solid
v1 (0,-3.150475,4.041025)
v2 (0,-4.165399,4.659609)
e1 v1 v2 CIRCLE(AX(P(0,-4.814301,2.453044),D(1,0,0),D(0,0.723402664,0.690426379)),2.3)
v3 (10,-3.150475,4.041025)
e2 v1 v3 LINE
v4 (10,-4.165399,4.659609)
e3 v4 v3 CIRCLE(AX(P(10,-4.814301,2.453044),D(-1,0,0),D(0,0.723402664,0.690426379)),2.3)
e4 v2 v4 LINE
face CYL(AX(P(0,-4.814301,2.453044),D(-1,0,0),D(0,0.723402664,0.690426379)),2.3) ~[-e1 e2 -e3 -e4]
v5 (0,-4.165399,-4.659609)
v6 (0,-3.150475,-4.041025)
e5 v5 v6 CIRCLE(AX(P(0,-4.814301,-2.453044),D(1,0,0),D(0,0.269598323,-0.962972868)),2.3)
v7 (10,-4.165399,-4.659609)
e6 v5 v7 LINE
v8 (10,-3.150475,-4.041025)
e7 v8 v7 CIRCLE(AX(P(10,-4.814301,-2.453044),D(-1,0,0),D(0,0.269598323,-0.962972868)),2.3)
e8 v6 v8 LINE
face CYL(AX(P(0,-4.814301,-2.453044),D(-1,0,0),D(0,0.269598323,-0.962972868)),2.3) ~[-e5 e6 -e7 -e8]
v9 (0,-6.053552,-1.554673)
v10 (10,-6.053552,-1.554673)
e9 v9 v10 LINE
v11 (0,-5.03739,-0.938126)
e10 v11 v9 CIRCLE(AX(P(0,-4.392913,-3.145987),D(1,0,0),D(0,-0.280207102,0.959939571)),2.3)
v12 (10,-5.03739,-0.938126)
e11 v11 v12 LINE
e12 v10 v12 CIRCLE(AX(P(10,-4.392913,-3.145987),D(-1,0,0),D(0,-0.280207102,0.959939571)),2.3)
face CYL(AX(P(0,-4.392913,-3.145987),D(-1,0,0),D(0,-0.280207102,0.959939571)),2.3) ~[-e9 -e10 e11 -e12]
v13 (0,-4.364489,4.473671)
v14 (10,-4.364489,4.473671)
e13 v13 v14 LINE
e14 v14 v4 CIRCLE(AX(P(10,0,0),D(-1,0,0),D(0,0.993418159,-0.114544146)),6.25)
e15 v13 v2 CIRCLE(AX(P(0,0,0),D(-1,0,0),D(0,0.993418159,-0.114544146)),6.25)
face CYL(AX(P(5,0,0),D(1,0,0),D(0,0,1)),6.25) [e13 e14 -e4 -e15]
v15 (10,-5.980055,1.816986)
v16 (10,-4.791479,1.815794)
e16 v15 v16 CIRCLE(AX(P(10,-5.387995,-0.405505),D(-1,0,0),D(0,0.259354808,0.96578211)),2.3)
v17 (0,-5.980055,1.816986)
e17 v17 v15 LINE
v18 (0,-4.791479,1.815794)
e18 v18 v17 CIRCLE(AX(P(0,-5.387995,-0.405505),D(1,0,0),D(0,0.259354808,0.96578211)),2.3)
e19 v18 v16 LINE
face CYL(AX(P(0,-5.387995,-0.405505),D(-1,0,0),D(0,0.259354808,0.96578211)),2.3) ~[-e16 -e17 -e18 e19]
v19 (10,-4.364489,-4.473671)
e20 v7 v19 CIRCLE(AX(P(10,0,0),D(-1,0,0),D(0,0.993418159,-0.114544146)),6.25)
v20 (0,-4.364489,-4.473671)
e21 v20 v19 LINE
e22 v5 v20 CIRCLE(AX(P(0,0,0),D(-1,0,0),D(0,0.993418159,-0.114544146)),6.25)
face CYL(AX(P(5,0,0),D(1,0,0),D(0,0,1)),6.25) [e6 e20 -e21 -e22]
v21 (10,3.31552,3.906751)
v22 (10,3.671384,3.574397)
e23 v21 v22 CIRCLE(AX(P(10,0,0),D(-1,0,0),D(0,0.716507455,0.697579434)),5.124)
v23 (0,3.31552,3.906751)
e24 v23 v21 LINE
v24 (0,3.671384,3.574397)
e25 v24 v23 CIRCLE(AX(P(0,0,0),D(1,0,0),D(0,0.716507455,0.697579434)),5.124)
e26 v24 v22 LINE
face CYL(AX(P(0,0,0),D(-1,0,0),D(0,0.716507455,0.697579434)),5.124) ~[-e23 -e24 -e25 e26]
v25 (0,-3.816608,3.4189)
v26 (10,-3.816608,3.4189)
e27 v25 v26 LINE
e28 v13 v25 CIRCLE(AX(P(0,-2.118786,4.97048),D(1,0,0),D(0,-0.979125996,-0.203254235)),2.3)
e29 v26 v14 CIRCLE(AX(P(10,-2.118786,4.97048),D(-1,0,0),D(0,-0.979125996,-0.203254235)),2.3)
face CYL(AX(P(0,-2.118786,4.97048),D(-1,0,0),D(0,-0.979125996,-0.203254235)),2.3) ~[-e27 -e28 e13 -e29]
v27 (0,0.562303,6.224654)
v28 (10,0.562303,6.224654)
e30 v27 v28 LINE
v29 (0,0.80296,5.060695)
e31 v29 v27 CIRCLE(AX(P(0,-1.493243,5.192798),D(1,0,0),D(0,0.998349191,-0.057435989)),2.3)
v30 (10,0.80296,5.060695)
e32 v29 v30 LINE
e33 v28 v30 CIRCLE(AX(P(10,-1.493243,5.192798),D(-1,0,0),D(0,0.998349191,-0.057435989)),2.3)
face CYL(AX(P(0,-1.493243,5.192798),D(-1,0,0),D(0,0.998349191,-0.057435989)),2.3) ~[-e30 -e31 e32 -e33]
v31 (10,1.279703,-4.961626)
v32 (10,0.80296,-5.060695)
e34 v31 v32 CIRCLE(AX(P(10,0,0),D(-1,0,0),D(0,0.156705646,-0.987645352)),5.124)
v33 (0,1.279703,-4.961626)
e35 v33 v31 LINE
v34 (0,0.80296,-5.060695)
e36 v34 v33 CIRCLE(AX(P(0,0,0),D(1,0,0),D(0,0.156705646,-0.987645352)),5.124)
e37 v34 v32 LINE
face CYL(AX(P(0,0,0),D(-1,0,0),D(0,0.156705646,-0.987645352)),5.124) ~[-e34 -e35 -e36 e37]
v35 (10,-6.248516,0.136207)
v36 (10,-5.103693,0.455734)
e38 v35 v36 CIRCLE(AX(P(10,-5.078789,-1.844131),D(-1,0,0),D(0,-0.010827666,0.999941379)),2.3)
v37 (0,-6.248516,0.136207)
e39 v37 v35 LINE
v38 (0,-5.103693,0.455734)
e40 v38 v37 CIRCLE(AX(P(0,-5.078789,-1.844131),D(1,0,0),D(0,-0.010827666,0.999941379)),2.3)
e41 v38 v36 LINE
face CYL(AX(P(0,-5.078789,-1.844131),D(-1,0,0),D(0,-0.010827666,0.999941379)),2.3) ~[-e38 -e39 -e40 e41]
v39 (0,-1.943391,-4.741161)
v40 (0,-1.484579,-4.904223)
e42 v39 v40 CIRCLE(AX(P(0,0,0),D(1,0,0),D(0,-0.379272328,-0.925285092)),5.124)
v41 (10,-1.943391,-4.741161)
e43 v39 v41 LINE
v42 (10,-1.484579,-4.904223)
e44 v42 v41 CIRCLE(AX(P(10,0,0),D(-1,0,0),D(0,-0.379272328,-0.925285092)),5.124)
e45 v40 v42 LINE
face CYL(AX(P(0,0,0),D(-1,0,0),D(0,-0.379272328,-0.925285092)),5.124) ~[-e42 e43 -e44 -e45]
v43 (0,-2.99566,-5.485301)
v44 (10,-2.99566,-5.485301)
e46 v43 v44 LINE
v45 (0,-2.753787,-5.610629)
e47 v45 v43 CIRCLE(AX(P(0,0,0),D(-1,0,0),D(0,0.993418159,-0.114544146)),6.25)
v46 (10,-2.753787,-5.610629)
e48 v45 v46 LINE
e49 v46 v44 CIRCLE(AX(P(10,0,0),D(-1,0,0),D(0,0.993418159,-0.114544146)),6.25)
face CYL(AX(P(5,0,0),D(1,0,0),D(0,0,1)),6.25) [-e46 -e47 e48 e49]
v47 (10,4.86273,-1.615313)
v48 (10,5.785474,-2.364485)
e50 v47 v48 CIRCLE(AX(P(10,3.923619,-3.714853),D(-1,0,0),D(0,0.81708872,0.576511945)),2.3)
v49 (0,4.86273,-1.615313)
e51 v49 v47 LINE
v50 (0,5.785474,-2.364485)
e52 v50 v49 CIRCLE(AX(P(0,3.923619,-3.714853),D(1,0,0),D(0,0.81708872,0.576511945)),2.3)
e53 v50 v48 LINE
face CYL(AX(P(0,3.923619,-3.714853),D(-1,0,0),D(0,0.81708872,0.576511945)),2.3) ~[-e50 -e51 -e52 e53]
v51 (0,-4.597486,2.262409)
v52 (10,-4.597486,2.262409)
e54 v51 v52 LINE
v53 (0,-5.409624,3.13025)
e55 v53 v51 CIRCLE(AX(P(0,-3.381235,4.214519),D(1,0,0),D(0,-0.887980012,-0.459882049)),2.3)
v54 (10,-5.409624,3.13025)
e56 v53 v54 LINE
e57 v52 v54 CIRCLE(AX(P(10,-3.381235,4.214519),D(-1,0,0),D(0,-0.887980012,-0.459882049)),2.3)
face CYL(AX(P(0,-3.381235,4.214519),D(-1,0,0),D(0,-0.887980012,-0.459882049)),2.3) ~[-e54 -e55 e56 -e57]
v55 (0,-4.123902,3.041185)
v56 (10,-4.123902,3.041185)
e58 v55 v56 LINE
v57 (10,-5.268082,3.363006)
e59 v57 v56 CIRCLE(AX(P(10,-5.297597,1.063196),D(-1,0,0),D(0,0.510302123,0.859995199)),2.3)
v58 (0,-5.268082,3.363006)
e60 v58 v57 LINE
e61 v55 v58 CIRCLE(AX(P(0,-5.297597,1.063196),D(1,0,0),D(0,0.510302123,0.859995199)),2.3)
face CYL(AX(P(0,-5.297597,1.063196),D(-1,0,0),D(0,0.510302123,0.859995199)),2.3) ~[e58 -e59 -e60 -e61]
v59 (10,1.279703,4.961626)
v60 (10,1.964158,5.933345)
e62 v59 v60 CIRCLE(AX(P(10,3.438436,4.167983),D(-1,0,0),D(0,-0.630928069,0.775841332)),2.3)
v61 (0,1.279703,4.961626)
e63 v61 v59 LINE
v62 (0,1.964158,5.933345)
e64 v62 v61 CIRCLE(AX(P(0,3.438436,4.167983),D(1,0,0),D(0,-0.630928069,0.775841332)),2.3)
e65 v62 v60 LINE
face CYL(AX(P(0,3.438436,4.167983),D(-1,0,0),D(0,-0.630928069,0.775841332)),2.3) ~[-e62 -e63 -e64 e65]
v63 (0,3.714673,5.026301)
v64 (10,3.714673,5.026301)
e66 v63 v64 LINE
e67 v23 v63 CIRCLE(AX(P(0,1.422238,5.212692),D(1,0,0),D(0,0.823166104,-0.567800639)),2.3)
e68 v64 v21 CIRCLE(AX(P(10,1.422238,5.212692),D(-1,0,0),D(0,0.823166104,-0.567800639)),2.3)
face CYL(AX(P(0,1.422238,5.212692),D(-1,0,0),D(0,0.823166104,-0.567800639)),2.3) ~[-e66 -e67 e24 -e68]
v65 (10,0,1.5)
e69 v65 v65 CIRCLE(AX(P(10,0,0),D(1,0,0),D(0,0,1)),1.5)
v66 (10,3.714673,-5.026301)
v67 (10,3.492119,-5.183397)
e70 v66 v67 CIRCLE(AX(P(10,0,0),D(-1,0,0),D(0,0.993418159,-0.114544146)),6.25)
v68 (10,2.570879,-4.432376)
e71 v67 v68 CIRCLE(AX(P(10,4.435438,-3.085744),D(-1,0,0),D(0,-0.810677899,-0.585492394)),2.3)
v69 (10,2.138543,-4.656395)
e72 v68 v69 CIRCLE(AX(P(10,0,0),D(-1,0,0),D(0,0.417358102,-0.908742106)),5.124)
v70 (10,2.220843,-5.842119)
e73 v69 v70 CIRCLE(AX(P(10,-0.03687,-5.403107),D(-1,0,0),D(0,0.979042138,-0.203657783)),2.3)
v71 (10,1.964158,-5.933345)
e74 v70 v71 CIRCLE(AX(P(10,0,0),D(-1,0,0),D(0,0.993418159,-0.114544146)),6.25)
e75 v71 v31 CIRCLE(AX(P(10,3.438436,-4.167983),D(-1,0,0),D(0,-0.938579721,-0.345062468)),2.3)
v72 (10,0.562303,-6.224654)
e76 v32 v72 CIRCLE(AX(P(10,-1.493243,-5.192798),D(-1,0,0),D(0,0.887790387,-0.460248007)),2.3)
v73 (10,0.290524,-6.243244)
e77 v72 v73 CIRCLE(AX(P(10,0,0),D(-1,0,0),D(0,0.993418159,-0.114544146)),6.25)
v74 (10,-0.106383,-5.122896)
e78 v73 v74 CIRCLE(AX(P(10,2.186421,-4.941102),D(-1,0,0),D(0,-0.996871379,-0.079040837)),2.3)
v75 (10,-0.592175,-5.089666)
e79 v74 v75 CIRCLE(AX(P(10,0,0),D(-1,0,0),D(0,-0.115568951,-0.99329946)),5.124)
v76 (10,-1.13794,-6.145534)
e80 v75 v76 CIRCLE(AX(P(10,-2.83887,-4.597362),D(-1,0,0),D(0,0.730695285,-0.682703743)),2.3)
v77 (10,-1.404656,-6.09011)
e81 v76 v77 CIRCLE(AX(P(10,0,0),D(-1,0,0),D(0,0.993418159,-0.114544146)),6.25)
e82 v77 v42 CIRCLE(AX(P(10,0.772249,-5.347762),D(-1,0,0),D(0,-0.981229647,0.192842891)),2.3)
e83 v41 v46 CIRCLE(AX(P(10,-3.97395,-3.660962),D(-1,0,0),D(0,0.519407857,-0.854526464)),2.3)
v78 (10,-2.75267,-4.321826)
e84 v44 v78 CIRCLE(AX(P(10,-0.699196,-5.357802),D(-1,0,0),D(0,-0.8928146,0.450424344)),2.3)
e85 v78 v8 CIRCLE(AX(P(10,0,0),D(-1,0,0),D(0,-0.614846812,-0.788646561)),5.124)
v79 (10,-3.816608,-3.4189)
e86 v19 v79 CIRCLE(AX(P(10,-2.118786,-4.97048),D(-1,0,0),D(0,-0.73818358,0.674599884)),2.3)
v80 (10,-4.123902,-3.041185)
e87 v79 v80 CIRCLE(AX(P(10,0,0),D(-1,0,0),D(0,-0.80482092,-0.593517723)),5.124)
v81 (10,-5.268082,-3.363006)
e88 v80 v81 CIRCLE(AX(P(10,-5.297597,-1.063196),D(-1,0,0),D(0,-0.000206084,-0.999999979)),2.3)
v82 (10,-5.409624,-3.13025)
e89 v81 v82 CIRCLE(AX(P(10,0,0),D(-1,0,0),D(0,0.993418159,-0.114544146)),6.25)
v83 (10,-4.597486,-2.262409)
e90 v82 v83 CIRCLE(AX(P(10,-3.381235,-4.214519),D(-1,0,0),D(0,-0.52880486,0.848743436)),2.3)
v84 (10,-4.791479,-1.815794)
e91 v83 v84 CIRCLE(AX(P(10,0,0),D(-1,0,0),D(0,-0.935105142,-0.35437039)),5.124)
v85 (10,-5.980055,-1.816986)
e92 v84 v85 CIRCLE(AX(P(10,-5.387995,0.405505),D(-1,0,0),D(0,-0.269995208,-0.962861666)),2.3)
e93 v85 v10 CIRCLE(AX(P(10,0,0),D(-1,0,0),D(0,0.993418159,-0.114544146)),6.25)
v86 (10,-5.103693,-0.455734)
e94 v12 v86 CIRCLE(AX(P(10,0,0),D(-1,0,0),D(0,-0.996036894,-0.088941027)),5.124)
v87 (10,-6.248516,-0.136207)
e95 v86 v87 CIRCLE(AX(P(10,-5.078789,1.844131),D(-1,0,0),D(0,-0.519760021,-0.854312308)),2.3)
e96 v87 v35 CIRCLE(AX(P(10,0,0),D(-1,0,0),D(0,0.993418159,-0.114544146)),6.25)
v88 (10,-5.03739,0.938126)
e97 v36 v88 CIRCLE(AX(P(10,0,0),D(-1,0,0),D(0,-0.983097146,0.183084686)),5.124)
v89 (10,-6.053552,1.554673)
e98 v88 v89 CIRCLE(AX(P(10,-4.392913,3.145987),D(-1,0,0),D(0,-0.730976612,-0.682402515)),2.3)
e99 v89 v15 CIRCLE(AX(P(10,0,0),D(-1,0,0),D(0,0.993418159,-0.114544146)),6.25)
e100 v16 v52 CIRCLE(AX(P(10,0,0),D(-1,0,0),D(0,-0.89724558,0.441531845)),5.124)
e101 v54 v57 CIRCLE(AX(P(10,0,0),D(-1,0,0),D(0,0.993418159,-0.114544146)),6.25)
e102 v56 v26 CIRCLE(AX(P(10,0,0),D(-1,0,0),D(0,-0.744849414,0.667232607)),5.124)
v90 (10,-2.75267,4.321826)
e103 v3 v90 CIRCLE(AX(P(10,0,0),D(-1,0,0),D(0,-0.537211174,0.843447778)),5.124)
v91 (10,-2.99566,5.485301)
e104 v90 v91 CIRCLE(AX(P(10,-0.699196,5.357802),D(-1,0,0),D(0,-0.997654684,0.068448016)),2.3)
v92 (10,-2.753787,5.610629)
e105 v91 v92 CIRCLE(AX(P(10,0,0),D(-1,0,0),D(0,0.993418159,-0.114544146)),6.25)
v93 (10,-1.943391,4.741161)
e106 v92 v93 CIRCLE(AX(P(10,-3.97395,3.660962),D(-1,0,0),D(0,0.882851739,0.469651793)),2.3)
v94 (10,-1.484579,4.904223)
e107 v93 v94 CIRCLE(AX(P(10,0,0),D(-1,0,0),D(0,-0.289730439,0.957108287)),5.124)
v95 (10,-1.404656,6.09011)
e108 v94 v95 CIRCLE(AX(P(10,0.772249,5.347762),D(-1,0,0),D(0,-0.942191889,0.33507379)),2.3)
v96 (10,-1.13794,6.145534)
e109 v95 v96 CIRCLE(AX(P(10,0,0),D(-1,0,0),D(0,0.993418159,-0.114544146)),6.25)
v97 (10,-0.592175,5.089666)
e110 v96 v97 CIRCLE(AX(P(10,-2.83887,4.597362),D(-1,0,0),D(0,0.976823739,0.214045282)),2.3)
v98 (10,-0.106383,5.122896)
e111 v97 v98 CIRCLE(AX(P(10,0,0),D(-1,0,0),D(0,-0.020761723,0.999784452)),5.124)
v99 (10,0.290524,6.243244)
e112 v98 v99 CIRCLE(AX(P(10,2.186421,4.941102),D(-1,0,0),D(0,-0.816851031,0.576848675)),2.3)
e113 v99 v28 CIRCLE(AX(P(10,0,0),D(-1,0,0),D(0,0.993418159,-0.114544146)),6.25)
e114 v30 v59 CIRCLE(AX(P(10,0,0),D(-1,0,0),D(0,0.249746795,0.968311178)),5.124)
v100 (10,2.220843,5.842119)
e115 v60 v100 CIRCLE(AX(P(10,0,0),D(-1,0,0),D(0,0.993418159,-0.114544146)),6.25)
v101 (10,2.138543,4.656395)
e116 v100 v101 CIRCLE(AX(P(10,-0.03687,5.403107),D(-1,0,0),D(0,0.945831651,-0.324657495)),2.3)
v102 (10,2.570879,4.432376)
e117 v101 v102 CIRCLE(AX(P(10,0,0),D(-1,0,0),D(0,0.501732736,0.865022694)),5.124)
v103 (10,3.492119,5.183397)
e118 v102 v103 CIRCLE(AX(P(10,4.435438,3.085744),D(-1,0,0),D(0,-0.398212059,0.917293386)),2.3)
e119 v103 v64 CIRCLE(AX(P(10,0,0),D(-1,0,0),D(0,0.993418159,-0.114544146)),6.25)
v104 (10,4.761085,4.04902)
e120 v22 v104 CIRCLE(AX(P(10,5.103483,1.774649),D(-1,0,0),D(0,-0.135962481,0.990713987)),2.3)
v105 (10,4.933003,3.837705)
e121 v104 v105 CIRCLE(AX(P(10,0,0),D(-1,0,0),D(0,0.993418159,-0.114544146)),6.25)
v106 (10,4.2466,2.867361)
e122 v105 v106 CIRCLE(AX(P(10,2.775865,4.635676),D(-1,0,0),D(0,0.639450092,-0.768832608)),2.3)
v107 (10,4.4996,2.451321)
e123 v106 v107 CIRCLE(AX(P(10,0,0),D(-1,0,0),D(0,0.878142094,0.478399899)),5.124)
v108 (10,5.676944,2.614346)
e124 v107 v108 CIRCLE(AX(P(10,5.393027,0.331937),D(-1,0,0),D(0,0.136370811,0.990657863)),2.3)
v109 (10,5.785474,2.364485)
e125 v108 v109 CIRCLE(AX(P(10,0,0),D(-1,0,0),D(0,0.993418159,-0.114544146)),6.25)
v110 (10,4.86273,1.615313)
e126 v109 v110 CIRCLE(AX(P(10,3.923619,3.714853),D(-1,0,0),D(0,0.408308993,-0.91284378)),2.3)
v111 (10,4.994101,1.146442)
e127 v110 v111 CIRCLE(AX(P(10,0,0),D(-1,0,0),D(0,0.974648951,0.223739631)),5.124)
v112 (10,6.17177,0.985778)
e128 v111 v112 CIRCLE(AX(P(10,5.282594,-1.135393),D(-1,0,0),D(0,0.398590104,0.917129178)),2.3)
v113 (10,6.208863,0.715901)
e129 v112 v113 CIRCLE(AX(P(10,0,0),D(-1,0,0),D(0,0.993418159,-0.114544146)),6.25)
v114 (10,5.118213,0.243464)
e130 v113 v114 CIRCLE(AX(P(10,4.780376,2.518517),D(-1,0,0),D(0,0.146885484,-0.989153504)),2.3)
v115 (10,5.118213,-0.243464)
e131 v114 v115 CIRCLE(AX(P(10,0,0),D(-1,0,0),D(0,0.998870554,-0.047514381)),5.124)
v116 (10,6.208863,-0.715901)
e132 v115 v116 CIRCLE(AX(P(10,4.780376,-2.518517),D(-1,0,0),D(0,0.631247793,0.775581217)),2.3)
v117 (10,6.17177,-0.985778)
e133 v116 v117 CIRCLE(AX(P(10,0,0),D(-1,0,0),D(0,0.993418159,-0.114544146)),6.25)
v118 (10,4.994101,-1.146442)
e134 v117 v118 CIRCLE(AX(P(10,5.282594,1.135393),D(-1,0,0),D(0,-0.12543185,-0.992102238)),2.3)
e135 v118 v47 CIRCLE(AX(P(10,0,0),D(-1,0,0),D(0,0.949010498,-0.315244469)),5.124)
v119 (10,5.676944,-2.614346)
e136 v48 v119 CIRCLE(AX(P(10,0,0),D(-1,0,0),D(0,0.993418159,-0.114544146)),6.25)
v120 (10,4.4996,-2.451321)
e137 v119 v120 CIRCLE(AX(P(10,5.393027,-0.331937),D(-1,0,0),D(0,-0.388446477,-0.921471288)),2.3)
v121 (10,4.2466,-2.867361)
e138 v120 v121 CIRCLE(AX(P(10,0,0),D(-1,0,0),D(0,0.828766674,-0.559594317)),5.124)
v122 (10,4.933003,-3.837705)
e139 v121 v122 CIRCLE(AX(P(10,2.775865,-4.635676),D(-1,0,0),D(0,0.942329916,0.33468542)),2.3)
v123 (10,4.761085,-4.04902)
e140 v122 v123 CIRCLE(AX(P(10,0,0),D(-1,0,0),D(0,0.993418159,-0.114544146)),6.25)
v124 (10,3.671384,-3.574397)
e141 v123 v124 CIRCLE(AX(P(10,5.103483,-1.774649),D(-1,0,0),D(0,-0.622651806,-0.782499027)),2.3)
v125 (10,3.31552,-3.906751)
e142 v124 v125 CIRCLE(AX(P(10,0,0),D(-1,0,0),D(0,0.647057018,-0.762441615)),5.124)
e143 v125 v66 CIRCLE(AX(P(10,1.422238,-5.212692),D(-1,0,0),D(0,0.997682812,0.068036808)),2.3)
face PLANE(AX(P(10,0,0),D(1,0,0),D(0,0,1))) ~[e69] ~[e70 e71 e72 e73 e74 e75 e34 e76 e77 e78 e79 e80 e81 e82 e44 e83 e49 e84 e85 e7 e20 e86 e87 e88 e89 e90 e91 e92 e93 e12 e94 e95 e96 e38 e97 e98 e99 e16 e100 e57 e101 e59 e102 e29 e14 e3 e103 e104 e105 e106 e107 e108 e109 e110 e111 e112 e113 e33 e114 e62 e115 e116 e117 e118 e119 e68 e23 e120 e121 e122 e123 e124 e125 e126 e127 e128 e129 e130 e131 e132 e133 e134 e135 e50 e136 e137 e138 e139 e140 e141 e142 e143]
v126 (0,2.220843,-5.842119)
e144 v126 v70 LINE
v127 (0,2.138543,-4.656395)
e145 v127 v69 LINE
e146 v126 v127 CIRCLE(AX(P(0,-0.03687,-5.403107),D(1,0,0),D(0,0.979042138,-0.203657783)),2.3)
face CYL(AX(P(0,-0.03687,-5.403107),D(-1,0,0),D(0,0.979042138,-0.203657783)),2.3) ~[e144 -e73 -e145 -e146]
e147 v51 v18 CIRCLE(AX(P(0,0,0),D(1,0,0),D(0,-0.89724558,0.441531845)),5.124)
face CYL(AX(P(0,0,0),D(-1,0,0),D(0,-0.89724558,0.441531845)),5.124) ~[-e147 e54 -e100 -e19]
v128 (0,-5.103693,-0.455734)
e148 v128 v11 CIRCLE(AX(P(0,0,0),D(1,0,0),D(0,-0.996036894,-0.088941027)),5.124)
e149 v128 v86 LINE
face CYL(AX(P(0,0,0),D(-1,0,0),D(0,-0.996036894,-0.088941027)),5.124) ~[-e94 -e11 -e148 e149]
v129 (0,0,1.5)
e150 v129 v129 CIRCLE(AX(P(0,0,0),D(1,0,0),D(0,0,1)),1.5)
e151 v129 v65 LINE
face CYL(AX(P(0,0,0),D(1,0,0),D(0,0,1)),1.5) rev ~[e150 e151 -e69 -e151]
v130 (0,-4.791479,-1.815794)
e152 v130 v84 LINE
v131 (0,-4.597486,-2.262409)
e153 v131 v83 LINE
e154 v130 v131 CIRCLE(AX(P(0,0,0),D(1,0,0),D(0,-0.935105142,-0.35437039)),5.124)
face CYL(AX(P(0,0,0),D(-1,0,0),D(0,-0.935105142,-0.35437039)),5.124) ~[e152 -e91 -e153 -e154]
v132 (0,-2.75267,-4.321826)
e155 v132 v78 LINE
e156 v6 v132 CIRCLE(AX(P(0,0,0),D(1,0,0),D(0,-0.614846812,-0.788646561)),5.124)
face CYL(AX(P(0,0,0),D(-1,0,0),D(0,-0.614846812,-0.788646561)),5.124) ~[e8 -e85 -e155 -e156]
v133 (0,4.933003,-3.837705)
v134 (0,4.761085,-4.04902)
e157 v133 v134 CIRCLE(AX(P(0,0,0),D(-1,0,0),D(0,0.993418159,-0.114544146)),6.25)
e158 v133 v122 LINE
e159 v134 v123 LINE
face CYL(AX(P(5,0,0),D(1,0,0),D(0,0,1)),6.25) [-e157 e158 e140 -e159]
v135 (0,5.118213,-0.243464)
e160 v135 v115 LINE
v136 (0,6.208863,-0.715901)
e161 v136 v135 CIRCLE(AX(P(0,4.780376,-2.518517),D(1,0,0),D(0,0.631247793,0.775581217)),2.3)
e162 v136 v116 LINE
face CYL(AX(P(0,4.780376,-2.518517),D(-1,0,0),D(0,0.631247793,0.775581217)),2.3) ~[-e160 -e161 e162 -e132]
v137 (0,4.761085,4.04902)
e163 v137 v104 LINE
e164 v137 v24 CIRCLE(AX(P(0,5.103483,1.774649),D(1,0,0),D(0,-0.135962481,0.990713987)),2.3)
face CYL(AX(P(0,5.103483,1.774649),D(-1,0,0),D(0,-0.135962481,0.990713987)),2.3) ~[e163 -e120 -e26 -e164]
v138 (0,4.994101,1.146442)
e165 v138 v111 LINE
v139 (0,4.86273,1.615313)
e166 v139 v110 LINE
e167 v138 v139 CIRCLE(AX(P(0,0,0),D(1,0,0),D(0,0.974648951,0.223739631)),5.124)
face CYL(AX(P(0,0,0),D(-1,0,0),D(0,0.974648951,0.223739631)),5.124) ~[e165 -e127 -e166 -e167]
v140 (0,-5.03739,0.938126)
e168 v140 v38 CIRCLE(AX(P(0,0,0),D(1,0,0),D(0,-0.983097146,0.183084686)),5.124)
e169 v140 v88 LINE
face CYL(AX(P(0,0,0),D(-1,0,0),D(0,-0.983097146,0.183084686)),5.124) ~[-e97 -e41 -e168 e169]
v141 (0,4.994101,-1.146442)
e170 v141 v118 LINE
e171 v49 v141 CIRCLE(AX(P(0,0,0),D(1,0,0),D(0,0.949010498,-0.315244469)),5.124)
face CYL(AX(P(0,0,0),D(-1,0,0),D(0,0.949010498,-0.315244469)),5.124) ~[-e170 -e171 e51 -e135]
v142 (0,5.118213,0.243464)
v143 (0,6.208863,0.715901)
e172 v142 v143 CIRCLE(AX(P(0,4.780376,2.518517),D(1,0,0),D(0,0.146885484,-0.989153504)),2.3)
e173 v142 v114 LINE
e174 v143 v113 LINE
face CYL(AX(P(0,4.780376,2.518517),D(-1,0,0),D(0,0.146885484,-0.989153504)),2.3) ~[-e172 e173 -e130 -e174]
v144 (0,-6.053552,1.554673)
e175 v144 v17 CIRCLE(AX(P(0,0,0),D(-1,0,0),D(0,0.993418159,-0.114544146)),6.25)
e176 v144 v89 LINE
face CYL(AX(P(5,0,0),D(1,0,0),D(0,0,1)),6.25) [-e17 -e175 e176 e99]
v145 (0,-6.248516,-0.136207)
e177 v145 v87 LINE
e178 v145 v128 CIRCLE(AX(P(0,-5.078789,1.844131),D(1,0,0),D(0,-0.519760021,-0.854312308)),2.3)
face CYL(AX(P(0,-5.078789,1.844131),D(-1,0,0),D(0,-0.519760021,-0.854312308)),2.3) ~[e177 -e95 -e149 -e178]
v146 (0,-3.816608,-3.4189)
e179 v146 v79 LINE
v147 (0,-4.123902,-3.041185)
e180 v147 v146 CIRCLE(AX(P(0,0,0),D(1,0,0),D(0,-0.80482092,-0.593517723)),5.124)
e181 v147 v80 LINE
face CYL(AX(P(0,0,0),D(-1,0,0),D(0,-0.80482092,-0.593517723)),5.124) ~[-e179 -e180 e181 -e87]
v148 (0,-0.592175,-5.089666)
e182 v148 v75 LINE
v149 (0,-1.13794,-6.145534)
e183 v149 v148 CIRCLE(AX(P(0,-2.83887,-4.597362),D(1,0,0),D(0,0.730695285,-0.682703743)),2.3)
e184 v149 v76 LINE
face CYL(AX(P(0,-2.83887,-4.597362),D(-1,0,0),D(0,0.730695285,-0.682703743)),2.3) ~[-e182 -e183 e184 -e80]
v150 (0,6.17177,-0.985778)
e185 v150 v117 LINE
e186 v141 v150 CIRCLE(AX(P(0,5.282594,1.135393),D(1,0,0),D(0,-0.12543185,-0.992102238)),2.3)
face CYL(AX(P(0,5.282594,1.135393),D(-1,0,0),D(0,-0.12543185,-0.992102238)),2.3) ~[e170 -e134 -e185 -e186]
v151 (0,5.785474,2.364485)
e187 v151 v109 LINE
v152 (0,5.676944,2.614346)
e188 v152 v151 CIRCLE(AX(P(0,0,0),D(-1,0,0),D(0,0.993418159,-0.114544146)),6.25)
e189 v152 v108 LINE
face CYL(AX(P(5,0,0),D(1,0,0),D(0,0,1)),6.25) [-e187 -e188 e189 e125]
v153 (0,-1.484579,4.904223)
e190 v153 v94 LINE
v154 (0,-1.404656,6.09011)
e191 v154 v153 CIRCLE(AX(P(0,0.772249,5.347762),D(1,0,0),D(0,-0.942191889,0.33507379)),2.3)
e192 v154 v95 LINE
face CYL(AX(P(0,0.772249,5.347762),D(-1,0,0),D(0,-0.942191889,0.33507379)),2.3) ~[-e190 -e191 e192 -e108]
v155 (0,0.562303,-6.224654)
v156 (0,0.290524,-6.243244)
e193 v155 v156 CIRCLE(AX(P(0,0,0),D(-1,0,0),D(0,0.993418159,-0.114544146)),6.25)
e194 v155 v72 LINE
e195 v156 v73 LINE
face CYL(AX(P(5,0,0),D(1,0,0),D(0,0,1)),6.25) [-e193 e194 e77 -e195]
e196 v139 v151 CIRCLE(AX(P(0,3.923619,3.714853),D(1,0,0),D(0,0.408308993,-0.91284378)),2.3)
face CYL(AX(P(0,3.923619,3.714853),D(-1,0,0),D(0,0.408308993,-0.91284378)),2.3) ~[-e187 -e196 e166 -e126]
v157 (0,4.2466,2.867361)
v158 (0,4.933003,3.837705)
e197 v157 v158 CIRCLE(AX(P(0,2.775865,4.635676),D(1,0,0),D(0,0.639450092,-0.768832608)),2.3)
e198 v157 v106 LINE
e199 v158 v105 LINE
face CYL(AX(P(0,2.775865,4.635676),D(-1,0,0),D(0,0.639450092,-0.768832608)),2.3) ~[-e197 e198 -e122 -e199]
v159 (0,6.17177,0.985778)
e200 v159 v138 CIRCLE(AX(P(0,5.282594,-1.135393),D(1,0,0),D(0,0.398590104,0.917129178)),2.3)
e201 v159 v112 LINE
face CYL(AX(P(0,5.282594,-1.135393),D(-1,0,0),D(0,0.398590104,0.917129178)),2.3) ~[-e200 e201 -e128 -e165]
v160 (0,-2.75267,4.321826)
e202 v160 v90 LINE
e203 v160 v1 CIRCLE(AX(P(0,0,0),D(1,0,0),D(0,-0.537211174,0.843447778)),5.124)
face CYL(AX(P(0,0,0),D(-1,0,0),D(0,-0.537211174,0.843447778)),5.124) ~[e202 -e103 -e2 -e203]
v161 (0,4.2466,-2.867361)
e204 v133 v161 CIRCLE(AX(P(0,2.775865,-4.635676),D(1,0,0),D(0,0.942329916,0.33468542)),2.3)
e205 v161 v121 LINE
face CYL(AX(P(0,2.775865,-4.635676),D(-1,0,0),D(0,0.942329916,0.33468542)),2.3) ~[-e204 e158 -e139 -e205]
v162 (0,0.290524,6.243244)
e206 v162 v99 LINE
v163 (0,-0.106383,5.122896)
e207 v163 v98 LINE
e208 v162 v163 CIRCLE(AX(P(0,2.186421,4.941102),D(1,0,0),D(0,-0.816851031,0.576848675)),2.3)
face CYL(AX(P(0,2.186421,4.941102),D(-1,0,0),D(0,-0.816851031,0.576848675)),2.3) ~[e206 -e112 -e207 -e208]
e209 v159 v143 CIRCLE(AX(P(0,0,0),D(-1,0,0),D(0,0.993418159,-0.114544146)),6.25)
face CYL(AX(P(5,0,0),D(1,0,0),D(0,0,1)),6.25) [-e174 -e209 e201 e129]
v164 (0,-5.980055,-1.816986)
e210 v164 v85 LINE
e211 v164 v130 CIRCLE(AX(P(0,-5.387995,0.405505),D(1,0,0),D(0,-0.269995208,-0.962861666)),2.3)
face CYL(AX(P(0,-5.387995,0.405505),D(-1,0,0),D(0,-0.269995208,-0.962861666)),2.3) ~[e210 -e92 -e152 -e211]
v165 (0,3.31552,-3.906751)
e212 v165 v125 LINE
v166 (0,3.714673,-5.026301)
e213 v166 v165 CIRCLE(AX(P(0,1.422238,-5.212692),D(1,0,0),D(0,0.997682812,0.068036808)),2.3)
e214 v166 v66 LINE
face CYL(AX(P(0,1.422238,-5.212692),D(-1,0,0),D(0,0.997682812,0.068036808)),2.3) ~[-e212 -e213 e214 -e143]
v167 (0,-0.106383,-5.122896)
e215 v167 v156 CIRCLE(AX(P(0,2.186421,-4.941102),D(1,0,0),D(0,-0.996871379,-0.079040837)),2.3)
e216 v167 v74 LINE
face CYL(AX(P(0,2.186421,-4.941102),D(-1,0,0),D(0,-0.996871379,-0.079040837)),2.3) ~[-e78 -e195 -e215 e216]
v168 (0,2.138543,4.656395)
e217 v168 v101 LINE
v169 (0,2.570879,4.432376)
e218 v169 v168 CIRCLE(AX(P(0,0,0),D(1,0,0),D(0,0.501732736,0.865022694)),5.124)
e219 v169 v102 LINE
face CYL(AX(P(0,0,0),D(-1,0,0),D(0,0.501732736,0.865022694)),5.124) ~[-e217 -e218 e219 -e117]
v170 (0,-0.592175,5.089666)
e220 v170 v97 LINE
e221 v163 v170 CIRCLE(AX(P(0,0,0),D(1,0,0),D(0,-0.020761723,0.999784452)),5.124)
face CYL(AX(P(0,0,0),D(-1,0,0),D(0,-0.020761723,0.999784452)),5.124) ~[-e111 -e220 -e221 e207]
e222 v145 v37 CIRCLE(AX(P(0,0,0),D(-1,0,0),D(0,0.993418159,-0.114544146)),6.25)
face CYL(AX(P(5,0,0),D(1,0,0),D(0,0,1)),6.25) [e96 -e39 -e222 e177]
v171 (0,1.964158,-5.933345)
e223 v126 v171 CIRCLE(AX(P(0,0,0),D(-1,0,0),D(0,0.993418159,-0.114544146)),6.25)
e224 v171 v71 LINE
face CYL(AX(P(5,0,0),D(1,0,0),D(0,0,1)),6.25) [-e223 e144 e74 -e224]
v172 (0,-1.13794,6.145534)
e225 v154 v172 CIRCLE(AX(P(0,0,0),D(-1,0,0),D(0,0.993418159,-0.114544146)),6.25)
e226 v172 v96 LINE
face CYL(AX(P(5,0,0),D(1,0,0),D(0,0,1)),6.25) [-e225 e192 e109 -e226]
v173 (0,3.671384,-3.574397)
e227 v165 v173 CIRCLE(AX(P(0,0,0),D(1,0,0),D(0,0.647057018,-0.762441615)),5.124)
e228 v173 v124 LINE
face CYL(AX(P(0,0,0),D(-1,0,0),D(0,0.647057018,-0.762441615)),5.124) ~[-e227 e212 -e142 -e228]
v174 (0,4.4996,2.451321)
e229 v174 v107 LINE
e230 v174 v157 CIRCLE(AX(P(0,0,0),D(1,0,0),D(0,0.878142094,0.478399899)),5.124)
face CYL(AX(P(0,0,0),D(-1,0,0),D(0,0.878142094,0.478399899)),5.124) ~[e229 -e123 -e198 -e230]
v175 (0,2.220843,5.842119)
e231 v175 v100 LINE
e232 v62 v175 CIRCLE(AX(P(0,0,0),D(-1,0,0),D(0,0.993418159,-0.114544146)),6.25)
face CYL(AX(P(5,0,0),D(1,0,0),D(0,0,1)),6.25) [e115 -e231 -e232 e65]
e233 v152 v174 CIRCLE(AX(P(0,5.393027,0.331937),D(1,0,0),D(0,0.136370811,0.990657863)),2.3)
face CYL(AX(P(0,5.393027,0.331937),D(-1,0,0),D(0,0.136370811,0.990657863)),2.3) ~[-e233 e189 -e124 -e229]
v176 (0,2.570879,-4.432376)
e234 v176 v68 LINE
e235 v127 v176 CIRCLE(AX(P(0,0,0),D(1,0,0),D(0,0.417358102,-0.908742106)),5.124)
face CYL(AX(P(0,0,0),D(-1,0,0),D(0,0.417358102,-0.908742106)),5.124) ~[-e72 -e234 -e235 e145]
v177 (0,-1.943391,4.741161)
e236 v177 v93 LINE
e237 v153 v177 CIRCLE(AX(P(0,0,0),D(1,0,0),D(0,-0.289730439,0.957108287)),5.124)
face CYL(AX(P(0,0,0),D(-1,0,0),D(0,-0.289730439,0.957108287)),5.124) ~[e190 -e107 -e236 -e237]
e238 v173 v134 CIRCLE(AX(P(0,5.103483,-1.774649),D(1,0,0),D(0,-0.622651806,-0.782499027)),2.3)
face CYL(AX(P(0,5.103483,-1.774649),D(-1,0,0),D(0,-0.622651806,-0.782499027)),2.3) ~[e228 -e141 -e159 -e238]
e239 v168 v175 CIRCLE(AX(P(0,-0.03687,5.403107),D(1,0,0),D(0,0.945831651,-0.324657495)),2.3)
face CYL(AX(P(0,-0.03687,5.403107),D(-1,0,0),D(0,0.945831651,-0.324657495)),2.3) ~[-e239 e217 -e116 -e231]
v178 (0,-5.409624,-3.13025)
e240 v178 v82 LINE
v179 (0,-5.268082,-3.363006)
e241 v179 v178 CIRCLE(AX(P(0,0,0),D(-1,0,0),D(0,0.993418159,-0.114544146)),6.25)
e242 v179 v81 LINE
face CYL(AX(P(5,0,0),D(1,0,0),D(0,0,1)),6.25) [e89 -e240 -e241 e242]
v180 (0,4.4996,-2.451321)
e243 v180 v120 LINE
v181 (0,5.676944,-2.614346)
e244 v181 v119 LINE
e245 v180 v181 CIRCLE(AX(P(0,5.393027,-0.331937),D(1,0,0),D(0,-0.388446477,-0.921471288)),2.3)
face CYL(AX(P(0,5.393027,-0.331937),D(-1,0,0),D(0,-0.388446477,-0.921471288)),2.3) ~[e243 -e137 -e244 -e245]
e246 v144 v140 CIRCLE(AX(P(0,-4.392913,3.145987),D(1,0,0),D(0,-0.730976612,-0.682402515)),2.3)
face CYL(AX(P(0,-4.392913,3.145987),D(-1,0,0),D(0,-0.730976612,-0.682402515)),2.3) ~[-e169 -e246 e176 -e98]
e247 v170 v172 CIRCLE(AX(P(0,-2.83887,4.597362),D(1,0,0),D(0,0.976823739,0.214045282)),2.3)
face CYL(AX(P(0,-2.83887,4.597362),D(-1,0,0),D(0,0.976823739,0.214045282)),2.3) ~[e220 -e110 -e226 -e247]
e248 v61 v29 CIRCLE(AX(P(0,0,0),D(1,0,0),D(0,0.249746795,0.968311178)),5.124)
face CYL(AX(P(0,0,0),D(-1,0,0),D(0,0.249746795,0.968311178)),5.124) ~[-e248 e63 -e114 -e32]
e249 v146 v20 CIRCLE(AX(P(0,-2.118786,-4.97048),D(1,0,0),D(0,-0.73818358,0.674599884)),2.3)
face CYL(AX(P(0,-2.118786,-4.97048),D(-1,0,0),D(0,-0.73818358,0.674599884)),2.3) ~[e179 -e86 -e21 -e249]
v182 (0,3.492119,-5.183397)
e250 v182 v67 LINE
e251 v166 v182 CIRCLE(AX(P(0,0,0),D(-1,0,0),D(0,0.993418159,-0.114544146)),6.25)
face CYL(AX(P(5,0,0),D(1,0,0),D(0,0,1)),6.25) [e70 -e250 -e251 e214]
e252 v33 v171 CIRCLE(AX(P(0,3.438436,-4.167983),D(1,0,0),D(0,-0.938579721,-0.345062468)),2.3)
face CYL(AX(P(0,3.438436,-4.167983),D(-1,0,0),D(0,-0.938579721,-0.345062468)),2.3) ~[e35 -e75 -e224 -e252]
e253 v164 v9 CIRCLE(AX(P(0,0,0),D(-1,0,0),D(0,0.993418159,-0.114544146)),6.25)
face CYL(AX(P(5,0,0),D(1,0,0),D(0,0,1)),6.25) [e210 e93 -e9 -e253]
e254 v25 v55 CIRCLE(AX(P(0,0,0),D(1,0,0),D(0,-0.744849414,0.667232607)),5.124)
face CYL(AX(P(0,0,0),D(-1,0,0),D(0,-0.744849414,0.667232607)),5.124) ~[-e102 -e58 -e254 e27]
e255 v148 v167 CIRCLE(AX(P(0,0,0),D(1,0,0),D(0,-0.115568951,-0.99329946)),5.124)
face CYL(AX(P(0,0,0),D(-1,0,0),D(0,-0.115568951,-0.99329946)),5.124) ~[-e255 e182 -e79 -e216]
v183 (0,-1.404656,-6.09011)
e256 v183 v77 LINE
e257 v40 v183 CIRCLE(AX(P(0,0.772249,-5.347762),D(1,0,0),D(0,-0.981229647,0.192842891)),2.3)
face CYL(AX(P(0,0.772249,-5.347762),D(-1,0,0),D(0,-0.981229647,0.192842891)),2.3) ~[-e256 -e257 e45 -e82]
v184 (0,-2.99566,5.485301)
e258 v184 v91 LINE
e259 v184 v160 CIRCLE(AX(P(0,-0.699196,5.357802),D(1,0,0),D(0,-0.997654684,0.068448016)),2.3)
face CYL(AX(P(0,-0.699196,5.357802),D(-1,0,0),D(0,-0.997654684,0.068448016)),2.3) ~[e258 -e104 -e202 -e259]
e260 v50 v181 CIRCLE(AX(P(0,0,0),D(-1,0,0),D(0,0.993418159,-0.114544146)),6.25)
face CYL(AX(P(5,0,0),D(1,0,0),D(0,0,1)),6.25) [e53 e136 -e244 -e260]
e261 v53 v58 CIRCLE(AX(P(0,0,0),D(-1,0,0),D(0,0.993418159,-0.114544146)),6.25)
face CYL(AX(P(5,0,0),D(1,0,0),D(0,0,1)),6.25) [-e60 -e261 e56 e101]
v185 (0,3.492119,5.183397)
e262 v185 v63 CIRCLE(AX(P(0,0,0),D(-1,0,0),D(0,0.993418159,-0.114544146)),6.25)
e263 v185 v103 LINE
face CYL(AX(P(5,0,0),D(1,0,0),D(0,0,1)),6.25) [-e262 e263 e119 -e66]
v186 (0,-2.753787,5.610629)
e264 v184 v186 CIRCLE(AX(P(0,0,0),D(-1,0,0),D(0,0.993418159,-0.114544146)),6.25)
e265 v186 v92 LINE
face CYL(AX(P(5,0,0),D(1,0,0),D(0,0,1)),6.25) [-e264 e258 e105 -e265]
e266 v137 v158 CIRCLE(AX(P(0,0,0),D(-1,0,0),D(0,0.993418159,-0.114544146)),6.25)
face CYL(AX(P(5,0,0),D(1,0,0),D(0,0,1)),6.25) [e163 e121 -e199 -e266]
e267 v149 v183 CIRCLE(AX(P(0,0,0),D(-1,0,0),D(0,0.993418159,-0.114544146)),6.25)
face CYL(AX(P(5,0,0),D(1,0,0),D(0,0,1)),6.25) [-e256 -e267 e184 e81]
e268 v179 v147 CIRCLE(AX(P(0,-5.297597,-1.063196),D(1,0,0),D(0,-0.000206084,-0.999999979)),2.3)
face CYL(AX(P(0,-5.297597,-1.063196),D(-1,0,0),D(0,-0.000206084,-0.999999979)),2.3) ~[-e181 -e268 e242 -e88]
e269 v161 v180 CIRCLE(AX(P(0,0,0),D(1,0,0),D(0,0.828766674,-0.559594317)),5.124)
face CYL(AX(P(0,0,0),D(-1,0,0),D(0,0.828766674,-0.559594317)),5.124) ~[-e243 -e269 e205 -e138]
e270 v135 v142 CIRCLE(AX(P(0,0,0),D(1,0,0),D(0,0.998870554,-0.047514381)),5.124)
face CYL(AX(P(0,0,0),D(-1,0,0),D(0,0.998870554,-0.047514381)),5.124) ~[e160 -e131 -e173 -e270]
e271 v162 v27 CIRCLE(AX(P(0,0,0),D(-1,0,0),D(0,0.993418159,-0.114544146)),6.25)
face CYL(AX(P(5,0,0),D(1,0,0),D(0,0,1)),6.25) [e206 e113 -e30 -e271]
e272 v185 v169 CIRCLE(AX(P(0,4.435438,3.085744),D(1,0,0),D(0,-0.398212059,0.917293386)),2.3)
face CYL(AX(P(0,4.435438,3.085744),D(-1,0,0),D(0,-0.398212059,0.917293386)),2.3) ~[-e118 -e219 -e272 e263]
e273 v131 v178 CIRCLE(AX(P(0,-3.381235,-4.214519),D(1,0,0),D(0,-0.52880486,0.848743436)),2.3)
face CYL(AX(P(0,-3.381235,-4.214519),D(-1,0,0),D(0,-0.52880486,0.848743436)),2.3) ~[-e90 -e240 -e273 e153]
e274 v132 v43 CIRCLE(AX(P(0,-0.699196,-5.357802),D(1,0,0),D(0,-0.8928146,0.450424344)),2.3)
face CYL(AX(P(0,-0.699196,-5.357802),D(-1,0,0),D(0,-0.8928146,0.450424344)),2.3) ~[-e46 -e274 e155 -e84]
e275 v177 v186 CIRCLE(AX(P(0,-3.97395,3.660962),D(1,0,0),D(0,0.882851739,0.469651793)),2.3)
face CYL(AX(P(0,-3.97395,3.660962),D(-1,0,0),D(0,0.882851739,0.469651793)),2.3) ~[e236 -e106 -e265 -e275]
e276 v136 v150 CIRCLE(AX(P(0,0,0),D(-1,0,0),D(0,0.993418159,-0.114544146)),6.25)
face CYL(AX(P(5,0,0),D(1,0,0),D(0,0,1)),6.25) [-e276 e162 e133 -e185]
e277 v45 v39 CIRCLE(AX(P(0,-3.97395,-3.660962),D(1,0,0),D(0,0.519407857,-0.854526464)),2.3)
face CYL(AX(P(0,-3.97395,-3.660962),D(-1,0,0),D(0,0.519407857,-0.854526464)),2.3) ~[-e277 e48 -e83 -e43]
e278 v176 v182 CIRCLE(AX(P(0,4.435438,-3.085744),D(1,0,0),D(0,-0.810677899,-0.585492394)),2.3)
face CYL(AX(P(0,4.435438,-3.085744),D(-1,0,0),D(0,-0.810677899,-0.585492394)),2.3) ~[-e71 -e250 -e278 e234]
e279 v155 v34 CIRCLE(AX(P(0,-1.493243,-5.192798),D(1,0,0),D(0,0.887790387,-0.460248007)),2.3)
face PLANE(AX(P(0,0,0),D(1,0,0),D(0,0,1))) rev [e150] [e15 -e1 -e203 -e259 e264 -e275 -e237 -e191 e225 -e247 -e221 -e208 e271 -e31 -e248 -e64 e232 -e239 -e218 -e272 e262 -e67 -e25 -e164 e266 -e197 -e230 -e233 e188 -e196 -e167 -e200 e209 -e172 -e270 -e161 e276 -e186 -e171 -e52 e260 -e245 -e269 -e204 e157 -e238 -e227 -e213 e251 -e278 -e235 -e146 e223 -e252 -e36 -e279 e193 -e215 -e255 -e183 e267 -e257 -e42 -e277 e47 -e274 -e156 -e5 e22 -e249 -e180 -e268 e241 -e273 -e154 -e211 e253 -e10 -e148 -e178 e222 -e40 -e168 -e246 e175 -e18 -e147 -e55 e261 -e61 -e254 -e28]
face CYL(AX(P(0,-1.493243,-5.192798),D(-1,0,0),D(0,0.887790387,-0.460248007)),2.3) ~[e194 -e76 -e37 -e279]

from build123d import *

# Parameters (mm, degrees)
BASPROSKE_W     = 10
BASPROSKE_H     = 6.25
TOOTHCUT_DEPTH  = 14.346347815
TEETHCUTS_COUNT = 23
TEETHCUTS_ANGLE = 344.347826087
BORSKE_R        = 1.5
BORE_DEPTH      = 50.0000508


with BuildPart() as part:
    # BasProSke → Base-Revolve (revolve)
    with BuildSketch(Plane(origin=(0, 0, 0), x_dir=(1, 0, 0), z_dir=(0, 1, 0)), mode=Mode.PRIVATE) as base_revolve_sk:
        with Locations((5, 3.125)):
            Rectangle(BASPROSKE_W, BASPROSKE_H)
    revolve(base_revolve_sk.sketch.rotate(Axis((-10, 0, 0), (1, 0, 0)), 180), axis=Axis((-10, 0, 0), (1, 0, 0)))

    # TooCutSke → ToothCut (cut, through all)
    with BuildSketch(Plane(origin=(0, 0, 0), x_dir=(0, 0, -1), z_dir=(1, 0, 0))):
        with BuildLine():
            ThreePointArc((0.243463669, 5.118212719), (0, 5.124), (-0.243463669, 5.118212719))
            ThreePointArc((-0.243463669, 5.118212719), (-0.414018148, 5.708323155), (-0.734679929, 6.232246029))
            ThreePointArc((-0.734679929, 6.232246029), (0, 6.2754), (0.734679929, 6.232246029))
            ThreePointArc((0.734679929, 6.232246029), (0.414018148, 5.708323155), (0.243463669, 5.118212719))
        make_face()
    toothcut = extrude(amount=TOOTHCUT_DEPTH, mode=Mode.SUBTRACT)

    # TeethCuts: ToothCut ×23 about axis
    teethcuts_axis = Axis((-10, 0, 0), (1, 0, 0))
    for i in range(1, TEETHCUTS_COUNT):
        add(toothcut.rotate(teethcuts_axis, i * TEETHCUTS_ANGLE / (TEETHCUTS_COUNT - 1)), mode=Mode.SUBTRACT)

    # BorSke → Bore (cut, symmetric)
    with BuildSketch(Plane(origin=(0, 0, 0), x_dir=(0, 0, -1), z_dir=(1, 0, 0))):
        with Locations(Location((0, 0, 0), (0, 0, 180))):
            Circle(BORSKE_R)
    extrude(amount=BORE_DEPTH, both=True, mode=Mode.SUBTRACT)


solid = part.part
